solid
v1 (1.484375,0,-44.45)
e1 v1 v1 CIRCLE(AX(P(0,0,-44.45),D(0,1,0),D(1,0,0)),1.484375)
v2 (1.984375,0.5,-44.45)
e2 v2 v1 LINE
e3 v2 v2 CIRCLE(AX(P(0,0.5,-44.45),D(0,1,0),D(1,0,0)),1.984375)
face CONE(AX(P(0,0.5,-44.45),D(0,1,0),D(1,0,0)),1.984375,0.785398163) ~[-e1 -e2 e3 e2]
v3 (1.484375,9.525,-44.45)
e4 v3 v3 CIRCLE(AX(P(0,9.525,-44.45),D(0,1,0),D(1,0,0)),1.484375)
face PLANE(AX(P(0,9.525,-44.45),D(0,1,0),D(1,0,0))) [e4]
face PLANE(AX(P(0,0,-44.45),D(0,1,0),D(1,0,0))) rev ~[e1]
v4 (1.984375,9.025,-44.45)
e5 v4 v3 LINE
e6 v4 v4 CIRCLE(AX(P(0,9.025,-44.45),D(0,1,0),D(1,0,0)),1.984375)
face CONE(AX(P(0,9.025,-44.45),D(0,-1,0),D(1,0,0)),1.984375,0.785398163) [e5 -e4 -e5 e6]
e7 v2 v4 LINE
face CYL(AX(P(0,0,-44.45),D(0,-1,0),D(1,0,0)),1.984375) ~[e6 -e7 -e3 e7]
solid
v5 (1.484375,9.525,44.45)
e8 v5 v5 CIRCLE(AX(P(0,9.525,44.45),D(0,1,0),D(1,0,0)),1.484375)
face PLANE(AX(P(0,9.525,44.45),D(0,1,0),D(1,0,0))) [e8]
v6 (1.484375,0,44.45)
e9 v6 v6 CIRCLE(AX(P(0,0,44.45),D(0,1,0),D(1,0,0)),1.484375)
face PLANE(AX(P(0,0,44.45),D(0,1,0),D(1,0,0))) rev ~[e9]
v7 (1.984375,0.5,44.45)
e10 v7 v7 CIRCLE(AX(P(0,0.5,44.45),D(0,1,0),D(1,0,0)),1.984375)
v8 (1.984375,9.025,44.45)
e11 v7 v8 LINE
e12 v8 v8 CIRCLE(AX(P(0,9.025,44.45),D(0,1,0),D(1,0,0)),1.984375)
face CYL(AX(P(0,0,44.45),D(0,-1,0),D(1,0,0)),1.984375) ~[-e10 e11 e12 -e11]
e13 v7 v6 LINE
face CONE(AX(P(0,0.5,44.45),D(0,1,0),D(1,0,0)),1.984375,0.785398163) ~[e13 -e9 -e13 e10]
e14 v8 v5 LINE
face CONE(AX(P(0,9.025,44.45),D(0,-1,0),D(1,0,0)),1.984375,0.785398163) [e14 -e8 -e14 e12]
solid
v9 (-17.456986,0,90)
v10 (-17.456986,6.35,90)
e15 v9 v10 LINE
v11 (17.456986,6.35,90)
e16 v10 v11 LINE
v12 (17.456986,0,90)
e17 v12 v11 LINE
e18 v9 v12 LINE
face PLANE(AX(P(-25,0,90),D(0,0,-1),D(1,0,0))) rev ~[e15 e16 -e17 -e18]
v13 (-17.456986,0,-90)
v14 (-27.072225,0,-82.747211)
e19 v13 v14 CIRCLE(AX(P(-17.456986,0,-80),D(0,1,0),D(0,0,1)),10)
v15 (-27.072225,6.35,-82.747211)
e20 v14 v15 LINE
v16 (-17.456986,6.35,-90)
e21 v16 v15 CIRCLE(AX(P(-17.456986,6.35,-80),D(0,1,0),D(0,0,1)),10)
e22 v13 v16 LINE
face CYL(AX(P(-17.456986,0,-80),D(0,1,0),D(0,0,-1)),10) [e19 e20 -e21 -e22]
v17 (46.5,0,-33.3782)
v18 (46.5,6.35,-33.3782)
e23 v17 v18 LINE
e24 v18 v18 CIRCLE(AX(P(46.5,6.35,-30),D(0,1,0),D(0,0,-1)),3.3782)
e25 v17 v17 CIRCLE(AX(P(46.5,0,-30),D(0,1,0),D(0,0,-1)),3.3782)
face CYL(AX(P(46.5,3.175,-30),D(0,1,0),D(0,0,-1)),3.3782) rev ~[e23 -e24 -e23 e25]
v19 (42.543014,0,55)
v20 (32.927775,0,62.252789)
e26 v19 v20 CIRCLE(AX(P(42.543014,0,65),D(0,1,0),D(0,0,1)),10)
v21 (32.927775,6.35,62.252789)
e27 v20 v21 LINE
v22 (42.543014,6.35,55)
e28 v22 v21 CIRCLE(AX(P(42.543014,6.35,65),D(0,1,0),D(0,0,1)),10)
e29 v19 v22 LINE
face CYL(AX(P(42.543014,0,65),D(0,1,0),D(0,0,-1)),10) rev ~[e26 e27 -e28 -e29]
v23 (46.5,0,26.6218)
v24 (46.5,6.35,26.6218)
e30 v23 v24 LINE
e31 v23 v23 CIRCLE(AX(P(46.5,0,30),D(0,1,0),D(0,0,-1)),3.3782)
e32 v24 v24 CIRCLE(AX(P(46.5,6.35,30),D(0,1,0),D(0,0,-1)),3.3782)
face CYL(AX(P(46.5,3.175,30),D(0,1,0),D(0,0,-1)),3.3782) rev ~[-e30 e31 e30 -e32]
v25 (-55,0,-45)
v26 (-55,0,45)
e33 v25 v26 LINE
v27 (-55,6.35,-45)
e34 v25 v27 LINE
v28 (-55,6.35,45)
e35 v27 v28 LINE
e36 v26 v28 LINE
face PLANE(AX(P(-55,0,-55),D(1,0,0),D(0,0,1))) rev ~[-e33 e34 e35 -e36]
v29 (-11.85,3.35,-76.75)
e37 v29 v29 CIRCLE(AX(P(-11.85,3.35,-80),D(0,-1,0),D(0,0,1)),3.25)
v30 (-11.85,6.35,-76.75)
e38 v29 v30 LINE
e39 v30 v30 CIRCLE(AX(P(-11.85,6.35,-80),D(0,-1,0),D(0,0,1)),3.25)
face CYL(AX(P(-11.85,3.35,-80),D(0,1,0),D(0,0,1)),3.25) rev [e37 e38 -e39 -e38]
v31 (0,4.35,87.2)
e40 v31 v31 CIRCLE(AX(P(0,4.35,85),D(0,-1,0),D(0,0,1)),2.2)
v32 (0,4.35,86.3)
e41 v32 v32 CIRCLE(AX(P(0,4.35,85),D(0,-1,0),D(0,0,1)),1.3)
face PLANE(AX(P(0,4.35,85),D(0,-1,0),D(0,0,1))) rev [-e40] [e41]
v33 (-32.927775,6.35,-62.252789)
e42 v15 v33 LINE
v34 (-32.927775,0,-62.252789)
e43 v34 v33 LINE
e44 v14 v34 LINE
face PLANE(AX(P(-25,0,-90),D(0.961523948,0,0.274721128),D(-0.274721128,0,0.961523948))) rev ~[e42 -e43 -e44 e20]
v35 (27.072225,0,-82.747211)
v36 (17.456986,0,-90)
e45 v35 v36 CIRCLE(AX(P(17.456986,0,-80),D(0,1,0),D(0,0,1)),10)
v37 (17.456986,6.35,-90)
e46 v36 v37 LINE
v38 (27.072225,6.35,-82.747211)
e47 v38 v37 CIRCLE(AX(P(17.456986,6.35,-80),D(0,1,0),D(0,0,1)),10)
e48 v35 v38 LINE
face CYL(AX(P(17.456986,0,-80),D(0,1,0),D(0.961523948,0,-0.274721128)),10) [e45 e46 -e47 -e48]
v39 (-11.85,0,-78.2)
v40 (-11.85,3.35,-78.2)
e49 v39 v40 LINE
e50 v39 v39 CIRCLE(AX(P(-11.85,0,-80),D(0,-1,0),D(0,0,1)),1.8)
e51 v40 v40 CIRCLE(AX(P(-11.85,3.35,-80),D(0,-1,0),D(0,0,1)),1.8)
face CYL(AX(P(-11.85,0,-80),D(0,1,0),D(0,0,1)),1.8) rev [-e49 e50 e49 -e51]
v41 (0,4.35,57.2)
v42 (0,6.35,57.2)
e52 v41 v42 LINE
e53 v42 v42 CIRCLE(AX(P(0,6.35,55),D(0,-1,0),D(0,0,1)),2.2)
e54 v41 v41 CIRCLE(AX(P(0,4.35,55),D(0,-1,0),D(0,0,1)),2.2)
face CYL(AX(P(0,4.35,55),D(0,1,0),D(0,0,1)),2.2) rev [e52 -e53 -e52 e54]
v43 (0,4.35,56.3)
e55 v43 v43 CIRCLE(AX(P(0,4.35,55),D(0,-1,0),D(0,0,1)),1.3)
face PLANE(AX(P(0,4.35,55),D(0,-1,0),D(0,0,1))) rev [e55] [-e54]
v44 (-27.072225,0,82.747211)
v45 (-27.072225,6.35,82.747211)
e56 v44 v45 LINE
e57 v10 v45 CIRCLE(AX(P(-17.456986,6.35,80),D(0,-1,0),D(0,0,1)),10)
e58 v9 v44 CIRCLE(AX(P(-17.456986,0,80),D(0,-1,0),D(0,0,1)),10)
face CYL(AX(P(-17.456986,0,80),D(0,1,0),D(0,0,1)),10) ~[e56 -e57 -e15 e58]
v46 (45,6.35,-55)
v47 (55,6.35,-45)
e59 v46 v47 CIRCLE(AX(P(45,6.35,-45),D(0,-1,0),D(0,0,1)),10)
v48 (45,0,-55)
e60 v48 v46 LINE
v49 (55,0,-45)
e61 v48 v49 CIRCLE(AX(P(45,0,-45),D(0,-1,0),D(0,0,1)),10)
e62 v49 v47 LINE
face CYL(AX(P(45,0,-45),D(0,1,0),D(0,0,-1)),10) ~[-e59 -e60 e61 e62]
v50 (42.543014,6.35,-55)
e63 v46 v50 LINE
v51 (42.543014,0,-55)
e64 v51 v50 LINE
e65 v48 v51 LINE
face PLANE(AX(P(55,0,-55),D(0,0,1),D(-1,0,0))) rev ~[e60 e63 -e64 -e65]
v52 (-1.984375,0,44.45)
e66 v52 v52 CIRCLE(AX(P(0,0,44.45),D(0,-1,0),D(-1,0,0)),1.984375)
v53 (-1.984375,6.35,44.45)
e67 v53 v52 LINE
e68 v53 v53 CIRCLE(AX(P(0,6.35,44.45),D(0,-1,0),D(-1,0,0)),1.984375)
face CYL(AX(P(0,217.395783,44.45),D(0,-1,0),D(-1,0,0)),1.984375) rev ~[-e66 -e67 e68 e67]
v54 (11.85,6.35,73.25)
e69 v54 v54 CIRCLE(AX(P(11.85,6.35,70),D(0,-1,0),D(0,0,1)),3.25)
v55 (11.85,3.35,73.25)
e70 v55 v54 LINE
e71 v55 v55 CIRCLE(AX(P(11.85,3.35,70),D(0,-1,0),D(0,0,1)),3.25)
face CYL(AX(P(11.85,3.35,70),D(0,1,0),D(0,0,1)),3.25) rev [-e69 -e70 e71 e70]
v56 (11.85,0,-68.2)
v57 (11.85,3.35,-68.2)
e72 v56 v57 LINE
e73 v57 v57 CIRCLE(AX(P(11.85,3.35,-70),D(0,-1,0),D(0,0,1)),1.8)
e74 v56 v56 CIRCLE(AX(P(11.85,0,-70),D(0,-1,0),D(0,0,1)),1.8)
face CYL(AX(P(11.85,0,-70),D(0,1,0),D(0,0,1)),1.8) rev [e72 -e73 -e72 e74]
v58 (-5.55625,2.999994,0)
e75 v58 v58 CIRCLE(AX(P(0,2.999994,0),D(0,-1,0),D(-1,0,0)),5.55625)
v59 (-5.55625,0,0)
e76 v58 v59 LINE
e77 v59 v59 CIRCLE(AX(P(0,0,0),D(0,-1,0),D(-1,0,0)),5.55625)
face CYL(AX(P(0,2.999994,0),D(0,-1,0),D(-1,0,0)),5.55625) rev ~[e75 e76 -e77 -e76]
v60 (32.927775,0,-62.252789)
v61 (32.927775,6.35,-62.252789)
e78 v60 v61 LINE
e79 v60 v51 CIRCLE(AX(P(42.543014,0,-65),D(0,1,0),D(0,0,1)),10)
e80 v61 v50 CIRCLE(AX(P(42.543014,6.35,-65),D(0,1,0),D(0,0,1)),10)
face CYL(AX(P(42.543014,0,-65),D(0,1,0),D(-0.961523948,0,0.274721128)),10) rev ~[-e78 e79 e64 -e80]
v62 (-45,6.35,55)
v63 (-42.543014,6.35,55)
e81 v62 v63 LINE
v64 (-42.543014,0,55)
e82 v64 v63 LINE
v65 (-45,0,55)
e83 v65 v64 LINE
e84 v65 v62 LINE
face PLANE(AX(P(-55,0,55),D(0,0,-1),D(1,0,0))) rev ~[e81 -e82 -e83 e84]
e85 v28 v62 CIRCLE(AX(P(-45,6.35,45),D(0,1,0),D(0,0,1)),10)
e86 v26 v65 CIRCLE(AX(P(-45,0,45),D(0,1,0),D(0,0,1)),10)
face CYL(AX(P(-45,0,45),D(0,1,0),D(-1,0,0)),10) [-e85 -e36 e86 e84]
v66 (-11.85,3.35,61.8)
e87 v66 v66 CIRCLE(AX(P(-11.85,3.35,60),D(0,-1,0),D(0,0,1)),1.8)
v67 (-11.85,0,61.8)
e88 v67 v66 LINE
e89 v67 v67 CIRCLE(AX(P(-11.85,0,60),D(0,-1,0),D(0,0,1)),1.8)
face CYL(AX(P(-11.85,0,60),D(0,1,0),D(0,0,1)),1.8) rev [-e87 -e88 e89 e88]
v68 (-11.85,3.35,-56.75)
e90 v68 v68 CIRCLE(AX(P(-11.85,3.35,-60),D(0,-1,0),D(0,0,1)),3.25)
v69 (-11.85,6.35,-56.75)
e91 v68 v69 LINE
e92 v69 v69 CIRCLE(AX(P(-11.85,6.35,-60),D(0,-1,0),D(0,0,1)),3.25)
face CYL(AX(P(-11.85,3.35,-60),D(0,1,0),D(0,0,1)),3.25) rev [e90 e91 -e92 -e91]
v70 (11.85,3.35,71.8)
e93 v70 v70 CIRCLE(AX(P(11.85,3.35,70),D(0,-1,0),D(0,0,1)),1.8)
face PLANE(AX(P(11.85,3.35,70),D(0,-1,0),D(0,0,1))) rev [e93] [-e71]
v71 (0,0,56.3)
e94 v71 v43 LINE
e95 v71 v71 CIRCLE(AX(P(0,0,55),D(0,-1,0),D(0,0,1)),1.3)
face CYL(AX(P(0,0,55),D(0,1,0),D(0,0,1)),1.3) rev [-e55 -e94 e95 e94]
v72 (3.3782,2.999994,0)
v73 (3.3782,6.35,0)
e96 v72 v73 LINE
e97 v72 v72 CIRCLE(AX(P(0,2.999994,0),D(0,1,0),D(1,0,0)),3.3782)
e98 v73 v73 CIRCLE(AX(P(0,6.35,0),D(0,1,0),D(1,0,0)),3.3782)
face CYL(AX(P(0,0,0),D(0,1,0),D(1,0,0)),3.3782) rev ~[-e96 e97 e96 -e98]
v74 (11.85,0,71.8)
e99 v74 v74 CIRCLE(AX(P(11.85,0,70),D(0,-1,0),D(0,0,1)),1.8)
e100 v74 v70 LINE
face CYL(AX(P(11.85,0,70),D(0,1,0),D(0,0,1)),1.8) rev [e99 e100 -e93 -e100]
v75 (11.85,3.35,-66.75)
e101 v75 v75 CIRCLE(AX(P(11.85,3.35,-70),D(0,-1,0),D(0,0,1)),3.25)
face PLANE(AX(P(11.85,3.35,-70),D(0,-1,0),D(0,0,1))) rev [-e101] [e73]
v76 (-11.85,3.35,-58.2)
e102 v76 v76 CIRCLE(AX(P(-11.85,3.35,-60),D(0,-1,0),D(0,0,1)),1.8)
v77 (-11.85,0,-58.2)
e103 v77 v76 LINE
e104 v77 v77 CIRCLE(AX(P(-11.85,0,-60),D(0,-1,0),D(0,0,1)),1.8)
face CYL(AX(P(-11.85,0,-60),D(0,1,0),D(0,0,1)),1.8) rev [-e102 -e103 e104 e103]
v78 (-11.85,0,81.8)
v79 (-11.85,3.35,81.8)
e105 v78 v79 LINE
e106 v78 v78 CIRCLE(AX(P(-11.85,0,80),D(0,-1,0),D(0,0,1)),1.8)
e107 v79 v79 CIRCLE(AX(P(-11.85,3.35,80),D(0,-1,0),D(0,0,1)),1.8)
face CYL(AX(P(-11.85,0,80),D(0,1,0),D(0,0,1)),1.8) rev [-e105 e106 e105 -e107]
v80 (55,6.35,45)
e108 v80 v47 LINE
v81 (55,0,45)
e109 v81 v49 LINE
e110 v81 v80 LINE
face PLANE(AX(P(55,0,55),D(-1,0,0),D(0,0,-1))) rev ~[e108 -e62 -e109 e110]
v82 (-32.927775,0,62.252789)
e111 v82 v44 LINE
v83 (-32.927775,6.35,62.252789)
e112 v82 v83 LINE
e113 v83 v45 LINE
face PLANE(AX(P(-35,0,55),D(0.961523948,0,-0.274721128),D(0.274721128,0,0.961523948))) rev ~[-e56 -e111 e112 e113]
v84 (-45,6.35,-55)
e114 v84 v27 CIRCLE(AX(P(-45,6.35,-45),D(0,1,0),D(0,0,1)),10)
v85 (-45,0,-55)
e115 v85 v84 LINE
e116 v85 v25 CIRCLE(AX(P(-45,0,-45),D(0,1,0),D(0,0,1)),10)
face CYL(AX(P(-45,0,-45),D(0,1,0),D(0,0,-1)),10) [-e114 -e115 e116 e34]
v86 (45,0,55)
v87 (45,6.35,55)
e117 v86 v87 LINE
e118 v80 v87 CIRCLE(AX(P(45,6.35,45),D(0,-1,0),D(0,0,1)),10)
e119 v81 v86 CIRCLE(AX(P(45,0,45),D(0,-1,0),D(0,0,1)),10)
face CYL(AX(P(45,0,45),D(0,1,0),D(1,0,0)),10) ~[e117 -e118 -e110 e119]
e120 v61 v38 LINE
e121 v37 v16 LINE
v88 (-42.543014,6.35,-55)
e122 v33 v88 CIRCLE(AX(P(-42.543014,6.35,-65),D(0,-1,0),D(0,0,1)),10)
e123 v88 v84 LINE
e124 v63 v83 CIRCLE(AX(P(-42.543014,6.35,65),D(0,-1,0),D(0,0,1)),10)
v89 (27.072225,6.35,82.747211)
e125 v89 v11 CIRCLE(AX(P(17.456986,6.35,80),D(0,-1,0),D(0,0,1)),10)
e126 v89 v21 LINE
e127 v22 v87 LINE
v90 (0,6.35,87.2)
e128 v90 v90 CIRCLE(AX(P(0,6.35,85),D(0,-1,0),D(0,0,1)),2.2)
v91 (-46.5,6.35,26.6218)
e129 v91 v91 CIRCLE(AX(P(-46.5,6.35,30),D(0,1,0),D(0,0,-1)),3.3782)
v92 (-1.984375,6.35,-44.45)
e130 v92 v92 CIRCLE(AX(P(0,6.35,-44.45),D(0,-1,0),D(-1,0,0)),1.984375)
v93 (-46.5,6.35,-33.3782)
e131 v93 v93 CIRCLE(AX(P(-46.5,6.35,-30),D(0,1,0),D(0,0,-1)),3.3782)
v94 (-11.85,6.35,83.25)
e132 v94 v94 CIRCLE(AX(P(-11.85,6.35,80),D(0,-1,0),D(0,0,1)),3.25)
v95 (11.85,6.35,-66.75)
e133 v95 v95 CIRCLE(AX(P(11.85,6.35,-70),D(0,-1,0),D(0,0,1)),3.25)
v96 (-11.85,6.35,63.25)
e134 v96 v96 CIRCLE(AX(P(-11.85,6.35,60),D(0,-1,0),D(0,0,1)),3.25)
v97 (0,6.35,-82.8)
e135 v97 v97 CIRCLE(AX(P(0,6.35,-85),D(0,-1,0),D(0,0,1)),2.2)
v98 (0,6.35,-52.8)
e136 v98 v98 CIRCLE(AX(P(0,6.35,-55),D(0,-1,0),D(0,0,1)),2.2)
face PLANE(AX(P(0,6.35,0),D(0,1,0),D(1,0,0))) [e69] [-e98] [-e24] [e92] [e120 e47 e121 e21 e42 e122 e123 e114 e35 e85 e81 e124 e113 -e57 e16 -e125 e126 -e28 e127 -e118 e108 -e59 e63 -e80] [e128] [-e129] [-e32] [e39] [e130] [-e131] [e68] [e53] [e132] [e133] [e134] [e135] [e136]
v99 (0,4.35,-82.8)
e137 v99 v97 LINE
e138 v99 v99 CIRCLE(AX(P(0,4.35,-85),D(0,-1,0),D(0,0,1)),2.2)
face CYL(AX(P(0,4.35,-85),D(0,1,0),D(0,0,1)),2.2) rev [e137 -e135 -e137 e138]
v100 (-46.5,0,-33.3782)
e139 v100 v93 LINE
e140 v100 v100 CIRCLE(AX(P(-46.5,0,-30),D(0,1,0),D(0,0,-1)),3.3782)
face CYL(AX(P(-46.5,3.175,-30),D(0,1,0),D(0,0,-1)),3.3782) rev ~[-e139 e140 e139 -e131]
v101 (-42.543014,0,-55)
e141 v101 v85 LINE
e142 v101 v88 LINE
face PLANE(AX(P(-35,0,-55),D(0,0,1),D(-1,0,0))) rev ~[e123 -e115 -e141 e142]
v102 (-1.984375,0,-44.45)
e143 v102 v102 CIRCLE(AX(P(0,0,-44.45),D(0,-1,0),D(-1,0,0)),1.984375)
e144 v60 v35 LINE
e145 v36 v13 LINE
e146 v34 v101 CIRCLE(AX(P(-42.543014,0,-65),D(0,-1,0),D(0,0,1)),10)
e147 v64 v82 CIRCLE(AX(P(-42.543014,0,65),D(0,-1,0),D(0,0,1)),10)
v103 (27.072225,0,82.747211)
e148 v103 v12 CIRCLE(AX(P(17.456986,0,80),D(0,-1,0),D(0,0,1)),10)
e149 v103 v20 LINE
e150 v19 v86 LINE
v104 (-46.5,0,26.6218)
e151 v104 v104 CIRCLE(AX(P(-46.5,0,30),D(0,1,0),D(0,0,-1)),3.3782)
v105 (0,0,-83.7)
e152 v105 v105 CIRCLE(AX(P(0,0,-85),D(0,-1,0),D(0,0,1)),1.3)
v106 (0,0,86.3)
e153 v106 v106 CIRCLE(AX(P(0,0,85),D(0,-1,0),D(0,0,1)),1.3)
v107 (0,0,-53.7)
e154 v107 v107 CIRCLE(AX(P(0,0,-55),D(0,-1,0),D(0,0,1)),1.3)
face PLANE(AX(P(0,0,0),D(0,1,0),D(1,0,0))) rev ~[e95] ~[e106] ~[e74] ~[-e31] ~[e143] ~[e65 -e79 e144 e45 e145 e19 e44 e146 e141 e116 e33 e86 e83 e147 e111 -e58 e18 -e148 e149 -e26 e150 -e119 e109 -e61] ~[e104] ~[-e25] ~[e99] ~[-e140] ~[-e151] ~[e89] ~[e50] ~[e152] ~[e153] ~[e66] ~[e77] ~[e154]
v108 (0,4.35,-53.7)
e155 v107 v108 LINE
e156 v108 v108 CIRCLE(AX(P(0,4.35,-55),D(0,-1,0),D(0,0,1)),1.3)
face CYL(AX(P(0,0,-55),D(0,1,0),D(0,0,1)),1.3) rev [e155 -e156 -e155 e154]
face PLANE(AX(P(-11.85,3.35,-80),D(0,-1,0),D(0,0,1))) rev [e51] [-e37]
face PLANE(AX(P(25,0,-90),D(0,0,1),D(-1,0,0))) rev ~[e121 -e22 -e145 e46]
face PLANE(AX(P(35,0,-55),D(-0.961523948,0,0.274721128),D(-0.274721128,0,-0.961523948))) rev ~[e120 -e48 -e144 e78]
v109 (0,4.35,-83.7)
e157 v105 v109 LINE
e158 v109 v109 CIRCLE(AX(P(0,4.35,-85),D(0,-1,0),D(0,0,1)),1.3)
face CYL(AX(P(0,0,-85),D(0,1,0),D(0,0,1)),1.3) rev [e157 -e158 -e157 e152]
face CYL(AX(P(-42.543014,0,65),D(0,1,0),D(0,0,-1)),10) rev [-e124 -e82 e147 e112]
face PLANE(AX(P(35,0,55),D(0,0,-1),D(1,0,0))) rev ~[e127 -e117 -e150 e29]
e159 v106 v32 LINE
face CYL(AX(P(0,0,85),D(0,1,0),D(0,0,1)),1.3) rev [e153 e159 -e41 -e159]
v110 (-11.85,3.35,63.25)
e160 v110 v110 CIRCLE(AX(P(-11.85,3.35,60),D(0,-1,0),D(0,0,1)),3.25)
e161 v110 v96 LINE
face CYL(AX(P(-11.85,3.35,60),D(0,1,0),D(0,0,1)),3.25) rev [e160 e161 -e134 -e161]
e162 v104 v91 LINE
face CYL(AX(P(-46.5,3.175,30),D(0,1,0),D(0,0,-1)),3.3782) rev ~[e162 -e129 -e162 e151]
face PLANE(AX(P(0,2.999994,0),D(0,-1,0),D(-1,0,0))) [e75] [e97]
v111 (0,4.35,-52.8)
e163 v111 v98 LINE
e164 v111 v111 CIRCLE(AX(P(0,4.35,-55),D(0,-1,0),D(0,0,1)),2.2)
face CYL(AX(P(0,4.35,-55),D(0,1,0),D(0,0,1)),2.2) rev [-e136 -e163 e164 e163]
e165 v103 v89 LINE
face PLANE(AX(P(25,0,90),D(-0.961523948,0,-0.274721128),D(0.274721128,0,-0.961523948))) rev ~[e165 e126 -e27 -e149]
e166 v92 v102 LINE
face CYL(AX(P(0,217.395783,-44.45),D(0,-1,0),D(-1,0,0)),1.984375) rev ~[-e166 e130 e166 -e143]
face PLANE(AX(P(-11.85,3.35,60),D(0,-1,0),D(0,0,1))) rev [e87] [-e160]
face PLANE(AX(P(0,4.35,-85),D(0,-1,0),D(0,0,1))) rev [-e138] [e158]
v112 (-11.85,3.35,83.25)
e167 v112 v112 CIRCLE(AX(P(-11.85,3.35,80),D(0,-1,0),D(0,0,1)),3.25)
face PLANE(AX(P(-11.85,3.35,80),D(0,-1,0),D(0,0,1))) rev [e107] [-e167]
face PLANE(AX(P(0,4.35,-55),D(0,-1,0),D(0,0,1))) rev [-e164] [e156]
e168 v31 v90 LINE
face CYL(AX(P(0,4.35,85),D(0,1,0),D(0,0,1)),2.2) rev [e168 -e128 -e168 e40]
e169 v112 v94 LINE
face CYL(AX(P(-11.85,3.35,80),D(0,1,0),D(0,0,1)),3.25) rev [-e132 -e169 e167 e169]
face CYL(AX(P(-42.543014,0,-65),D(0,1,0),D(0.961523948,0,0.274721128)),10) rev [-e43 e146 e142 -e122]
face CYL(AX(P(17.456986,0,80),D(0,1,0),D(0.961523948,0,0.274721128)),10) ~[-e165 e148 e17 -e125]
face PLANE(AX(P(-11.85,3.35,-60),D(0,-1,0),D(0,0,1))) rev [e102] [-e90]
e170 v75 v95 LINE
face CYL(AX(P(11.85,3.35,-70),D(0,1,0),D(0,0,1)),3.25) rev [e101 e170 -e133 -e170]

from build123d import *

# Parameters (mm, degrees)
BOSS_EXTRUDE1_DEPTH                              = 6.35
CBORE_FOR_1_4_SOCKET_HEAD_CAP_SCREW1_D           = 6.7564
CBORE_FOR_1_4_SOCKET_HEAD_CAP_SCREW1_CBORE_D     = 11.1125
CBORE_FOR_1_4_SOCKET_HEAD_CAP_SCREW1_CBORE_DEPTH = 2.999994
F_1_8_0_15625_PRESS_DOWEL_HOLE1_D                = 3.96875
SKETCH13_R                                       = 1.984375
BOSS_EXTRUDE4_DEPTH                              = 9.525
BOSS_EXTRUDE4_2_DEPTH                            = 9.525
CHAMFER1_SIZE                                    = 0.5
CHAMFER2_SIZE                                    = 0.5
SKETCH16_W                                       = 3.3782
SKETCH16_H                                       = 6.35
F_1_4_CLEARANCE_HOLE1_AT_2_COUNT                 = 2
F_1_4_CLEARANCE_HOLE1_AT_2_PITCH                 = 60
F_1_4_CLEARANCE_HOLE1_AT_3_COUNT                 = 2
F_1_4_CLEARANCE_HOLE1_AT_3_PITCH                 = 110.675200474
F_1_4_CLEARANCE_HOLE1_AT_4_COUNT                 = 2
F_1_4_CLEARANCE_HOLE1_AT_4_PITCH                 = 93
CBORE_FOR_M2_SHCS2_AT_2_COUNT                    = 2
CBORE_FOR_M2_SHCS2_AT_2_PITCH                    = 30
CBORE_FOR_M2_SHCS2_AT_3_COUNT                    = 2
CBORE_FOR_M2_SHCS2_AT_3_PITCH                    = 170
CBORE_FOR_M2_SHCS2_AT_4_COUNT                    = 2
CBORE_FOR_M2_SHCS2_AT_4_PITCH                    = 140
CBORE_FOR_M3_SHCS2_AT_2_COUNT                    = 2
CBORE_FOR_M3_SHCS2_AT_2_PITCH                    = 20
CBORE_FOR_M3_SHCS2_AT_3_COUNT                    = 2
CBORE_FOR_M3_SHCS2_AT_3_PITCH                    = 25.723335709
CBORE_FOR_M3_SHCS2_AT_4_COUNT                    = 2
CBORE_FOR_M3_SHCS2_AT_4_PITCH                    = 160
CBORE_FOR_M3_SHCS2_AT_5_COUNT                    = 2
CBORE_FOR_M3_SHCS2_AT_5_PITCH                    = 151.860758592
CBORE_FOR_M3_SHCS2_AT_6_COUNT                    = 2
CBORE_FOR_M3_SHCS2_AT_6_PITCH                    = 140
FILLET1_R                                        = 10


with BuildPart() as part:
    # Sketch1 → Boss-Extrude1 (new body)
    with BuildSketch(Plane(origin=(0, 0, 0), x_dir=(1, 0, 0), z_dir=(0, 1, 0))):
        Polygon((35, 55), (25, 90), (-25, 90), (-35, 55), (-55, 55), (-55, -55), (-35, -55), (-25, -90), (25, -90), (35, -55), (55, -55), (55, 55), align=None)
    extrude(amount=BOSS_EXTRUDE1_DEPTH)

    # CBORE for 1/4 Socket Head Cap Screw1 (through all)
    with Locations(Plane(origin=(0, 0, 0), x_dir=(-1, 0, 0), z_dir=(0, -1, 0))):
        with Locations((0, 0)):
            CounterBoreHole(CBORE_FOR_1_4_SOCKET_HEAD_CAP_SCREW1_D / 2, CBORE_FOR_1_4_SOCKET_HEAD_CAP_SCREW1_CBORE_D / 2, CBORE_FOR_1_4_SOCKET_HEAD_CAP_SCREW1_CBORE_DEPTH)

    # 1/8 (0.15625) Press Dowel Hole1 (through all)
    with Locations(Plane(origin=(0, 6.35, 0), x_dir=(1, 0, 0), z_dir=(0, 1, 0))):
        with Locations((0, 44.45), (0, -44.45)):
            Hole(F_1_8_0_15625_PRESS_DOWEL_HOLE1_D / 2)

    # Sketch16 → 1/4 Clearance Hole1 (revolve, cut)
    with BuildSketch(Plane(origin=(-46.5, 0, -30), x_dir=(0, 0, -1), z_dir=(1, 0, 0))):
        with Locations((1.6891, 3.175)):
            Rectangle(SKETCH16_W, SKETCH16_H)
    f_1_4_clearance_hole1 = revolve(axis=Axis((-46.5, -6.35, -30), (0, 1, 0)), mode=Mode.SUBTRACT)

    # 1/4 Clearance Hole1 at 2: 1/4 Clearance Hole1 ×2
    with Locations(*[(0, 0, i * F_1_4_CLEARANCE_HOLE1_AT_2_PITCH) for i in range(1, F_1_4_CLEARANCE_HOLE1_AT_2_COUNT)]):
        add(f_1_4_clearance_hole1, mode=Mode.SUBTRACT)

    # 1/4 Clearance Hole1 at 3: 1/4 Clearance Hole1 ×2
    with Locations(*[Vector(0.840296648, 0, 0.54212687) * (i * F_1_4_CLEARANCE_HOLE1_AT_3_PITCH) for i in range(1, F_1_4_CLEARANCE_HOLE1_AT_3_COUNT)]):
        add(f_1_4_clearance_hole1, mode=Mode.SUBTRACT)

    # 1/4 Clearance Hole1 at 4: 1/4 Clearance Hole1 ×2
    with Locations(*[(i * F_1_4_CLEARANCE_HOLE1_AT_4_PITCH, 0, 0) for i in range(1, F_1_4_CLEARANCE_HOLE1_AT_4_COUNT)]):
        add(f_1_4_clearance_hole1, mode=Mode.SUBTRACT)

    # Sketch22 → CBORE for M2 SHCS2 (revolve, cut)
    with BuildSketch(Plane(origin=(0, 6.35, -85), x_dir=(0, 0, 1), z_dir=(1, 0, 0))):
        Polygon((0, 0), (0, 6.35), (1.3, 6.35), (1.3, 2), (2.2, 2), (2.2, 0), align=None)
    cbore_for_m2_shcs2 = revolve(axis=Axis((0, 12.7, -85), (0, -1, 0)), mode=Mode.SUBTRACT)

    # CBORE for M2 SHCS2 at 2: CBORE for M2 SHCS2 ×2
    with Locations(*[(0, 0, i * CBORE_FOR_M2_SHCS2_AT_2_PITCH) for i in range(1, CBORE_FOR_M2_SHCS2_AT_2_COUNT)]):
        add(cbore_for_m2_shcs2, mode=Mode.SUBTRACT)

    # CBORE for M2 SHCS2 at 3: CBORE for M2 SHCS2 ×2
    with Locations(*[(0, 0, i * CBORE_FOR_M2_SHCS2_AT_3_PITCH) for i in range(1, CBORE_FOR_M2_SHCS2_AT_3_COUNT)]):
        add(cbore_for_m2_shcs2, mode=Mode.SUBTRACT)

    # CBORE for M2 SHCS2 at 4: CBORE for M2 SHCS2 ×2
    with Locations(*[(0, 0, i * CBORE_FOR_M2_SHCS2_AT_4_PITCH) for i in range(1, CBORE_FOR_M2_SHCS2_AT_4_COUNT)]):
        add(cbore_for_m2_shcs2, mode=Mode.SUBTRACT)

    # Sketch24 → CBORE for M3 SHCS2 (revolve, cut)
    with BuildSketch(Plane(origin=(-11.85, 6.35, -80), x_dir=(0, 0, 1), z_dir=(1, 0, 0))):
        Polygon((0, 0), (0, 6.35), (1.8, 6.35), (1.8, 3), (3.25, 3), (3.25, 0), align=None)
    cbore_for_m3_shcs2 = revolve(axis=Axis((-11.85, 12.7, -80), (0, -1, 0)), mode=Mode.SUBTRACT)

    # CBORE for M3 SHCS2 at 2: CBORE for M3 SHCS2 ×2
    with Locations(*[(0, 0, i * CBORE_FOR_M3_SHCS2_AT_2_PITCH) for i in range(1, CBORE_FOR_M3_SHCS2_AT_2_COUNT)]):
        add(cbore_for_m3_shcs2, mode=Mode.SUBTRACT)

    # CBORE for M3 SHCS2 at 3: CBORE for M3 SHCS2 ×2
    with Locations(*[Vector(0.921342406, 0, 0.38875207) * (i * CBORE_FOR_M3_SHCS2_AT_3_PITCH) for i in range(1, CBORE_FOR_M3_SHCS2_AT_3_COUNT)]):
        add(cbore_for_m3_shcs2, mode=Mode.SUBTRACT)

    # CBORE for M3 SHCS2 at 4: CBORE for M3 SHCS2 ×2
    with Locations(*[(0, 0, i * CBORE_FOR_M3_SHCS2_AT_4_PITCH) for i in range(1, CBORE_FOR_M3_SHCS2_AT_4_COUNT)]):
        add(cbore_for_m3_shcs2, mode=Mode.SUBTRACT)

    # CBORE for M3 SHCS2 at 5: CBORE for M3 SHCS2 ×2
    with Locations(*[Vector(0.156064017, 0, 0.987746943) * (i * CBORE_FOR_M3_SHCS2_AT_5_PITCH) for i in range(1, CBORE_FOR_M3_SHCS2_AT_5_COUNT)]):
        add(cbore_for_m3_shcs2, mode=Mode.SUBTRACT)

    # CBORE for M3 SHCS2 at 6: CBORE for M3 SHCS2 ×2
    with Locations(*[(0, 0, i * CBORE_FOR_M3_SHCS2_AT_6_PITCH) for i in range(1, CBORE_FOR_M3_SHCS2_AT_6_COUNT)]):
        add(cbore_for_m3_shcs2, mode=Mode.SUBTRACT)

    # Fillet1
    fillet1_edges = [part.edges().sort_by_distance(p)[0] for p in [
        (-55, 3.175, -55),
        (-35, 3.175, -55),
        (-25, 3.175, -90),
        (25, 3.175, -90),
        (35, 3.175, -55),
        (55, 3.175, -55),
        (55, 3.175, 55),
        (35, 3.175, 55),
        (25, 3.175, 90),
        (-25, 3.175, 90),
        (-35, 3.175, 55),
        (-55, 3.175, 55),
    ]]
    fillet(fillet1_edges, radius=FILLET1_R)


with BuildPart() as body_2:
    # Sketch13 → Boss-Extrude4 (new body)
    with BuildSketch(Plane(origin=(0, 0, 0), x_dir=(1, 0, 0), z_dir=(0, 1, 0))):
        with Locations((0, -44.45)):
            Circle(SKETCH13_R)
    extrude(amount=BOSS_EXTRUDE4_DEPTH)

    # Chamfer1
    chamfer1_edges = [body_2.edges().sort_by_distance(p)[0] for p in [
        (-1.984375, 0, 44.45),
        (-1.984375, 9.525, 44.45),
    ]]
    chamfer(chamfer1_edges, length=CHAMFER1_SIZE)


with BuildPart() as body_3:
    # Sketch13 → Boss-Extrude4 2 (new body)
    with BuildSketch(Plane(origin=(0, 0, 0), x_dir=(1, 0, 0), z_dir=(0, 1, 0))):
        with Locations((0, 44.45)):
            Circle(SKETCH13_R)
    extrude(amount=BOSS_EXTRUDE4_2_DEPTH)

    # Chamfer2
    chamfer2_edges = [body_3.edges().sort_by_distance(p)[0] for p in [
        (-1.984375, 0, -44.45),
        (-1.984375, 9.525, -44.45),
    ]]
    chamfer(chamfer2_edges, length=CHAMFER2_SIZE)


solid = Compound([part.part, body_2.part, body_3.part])
